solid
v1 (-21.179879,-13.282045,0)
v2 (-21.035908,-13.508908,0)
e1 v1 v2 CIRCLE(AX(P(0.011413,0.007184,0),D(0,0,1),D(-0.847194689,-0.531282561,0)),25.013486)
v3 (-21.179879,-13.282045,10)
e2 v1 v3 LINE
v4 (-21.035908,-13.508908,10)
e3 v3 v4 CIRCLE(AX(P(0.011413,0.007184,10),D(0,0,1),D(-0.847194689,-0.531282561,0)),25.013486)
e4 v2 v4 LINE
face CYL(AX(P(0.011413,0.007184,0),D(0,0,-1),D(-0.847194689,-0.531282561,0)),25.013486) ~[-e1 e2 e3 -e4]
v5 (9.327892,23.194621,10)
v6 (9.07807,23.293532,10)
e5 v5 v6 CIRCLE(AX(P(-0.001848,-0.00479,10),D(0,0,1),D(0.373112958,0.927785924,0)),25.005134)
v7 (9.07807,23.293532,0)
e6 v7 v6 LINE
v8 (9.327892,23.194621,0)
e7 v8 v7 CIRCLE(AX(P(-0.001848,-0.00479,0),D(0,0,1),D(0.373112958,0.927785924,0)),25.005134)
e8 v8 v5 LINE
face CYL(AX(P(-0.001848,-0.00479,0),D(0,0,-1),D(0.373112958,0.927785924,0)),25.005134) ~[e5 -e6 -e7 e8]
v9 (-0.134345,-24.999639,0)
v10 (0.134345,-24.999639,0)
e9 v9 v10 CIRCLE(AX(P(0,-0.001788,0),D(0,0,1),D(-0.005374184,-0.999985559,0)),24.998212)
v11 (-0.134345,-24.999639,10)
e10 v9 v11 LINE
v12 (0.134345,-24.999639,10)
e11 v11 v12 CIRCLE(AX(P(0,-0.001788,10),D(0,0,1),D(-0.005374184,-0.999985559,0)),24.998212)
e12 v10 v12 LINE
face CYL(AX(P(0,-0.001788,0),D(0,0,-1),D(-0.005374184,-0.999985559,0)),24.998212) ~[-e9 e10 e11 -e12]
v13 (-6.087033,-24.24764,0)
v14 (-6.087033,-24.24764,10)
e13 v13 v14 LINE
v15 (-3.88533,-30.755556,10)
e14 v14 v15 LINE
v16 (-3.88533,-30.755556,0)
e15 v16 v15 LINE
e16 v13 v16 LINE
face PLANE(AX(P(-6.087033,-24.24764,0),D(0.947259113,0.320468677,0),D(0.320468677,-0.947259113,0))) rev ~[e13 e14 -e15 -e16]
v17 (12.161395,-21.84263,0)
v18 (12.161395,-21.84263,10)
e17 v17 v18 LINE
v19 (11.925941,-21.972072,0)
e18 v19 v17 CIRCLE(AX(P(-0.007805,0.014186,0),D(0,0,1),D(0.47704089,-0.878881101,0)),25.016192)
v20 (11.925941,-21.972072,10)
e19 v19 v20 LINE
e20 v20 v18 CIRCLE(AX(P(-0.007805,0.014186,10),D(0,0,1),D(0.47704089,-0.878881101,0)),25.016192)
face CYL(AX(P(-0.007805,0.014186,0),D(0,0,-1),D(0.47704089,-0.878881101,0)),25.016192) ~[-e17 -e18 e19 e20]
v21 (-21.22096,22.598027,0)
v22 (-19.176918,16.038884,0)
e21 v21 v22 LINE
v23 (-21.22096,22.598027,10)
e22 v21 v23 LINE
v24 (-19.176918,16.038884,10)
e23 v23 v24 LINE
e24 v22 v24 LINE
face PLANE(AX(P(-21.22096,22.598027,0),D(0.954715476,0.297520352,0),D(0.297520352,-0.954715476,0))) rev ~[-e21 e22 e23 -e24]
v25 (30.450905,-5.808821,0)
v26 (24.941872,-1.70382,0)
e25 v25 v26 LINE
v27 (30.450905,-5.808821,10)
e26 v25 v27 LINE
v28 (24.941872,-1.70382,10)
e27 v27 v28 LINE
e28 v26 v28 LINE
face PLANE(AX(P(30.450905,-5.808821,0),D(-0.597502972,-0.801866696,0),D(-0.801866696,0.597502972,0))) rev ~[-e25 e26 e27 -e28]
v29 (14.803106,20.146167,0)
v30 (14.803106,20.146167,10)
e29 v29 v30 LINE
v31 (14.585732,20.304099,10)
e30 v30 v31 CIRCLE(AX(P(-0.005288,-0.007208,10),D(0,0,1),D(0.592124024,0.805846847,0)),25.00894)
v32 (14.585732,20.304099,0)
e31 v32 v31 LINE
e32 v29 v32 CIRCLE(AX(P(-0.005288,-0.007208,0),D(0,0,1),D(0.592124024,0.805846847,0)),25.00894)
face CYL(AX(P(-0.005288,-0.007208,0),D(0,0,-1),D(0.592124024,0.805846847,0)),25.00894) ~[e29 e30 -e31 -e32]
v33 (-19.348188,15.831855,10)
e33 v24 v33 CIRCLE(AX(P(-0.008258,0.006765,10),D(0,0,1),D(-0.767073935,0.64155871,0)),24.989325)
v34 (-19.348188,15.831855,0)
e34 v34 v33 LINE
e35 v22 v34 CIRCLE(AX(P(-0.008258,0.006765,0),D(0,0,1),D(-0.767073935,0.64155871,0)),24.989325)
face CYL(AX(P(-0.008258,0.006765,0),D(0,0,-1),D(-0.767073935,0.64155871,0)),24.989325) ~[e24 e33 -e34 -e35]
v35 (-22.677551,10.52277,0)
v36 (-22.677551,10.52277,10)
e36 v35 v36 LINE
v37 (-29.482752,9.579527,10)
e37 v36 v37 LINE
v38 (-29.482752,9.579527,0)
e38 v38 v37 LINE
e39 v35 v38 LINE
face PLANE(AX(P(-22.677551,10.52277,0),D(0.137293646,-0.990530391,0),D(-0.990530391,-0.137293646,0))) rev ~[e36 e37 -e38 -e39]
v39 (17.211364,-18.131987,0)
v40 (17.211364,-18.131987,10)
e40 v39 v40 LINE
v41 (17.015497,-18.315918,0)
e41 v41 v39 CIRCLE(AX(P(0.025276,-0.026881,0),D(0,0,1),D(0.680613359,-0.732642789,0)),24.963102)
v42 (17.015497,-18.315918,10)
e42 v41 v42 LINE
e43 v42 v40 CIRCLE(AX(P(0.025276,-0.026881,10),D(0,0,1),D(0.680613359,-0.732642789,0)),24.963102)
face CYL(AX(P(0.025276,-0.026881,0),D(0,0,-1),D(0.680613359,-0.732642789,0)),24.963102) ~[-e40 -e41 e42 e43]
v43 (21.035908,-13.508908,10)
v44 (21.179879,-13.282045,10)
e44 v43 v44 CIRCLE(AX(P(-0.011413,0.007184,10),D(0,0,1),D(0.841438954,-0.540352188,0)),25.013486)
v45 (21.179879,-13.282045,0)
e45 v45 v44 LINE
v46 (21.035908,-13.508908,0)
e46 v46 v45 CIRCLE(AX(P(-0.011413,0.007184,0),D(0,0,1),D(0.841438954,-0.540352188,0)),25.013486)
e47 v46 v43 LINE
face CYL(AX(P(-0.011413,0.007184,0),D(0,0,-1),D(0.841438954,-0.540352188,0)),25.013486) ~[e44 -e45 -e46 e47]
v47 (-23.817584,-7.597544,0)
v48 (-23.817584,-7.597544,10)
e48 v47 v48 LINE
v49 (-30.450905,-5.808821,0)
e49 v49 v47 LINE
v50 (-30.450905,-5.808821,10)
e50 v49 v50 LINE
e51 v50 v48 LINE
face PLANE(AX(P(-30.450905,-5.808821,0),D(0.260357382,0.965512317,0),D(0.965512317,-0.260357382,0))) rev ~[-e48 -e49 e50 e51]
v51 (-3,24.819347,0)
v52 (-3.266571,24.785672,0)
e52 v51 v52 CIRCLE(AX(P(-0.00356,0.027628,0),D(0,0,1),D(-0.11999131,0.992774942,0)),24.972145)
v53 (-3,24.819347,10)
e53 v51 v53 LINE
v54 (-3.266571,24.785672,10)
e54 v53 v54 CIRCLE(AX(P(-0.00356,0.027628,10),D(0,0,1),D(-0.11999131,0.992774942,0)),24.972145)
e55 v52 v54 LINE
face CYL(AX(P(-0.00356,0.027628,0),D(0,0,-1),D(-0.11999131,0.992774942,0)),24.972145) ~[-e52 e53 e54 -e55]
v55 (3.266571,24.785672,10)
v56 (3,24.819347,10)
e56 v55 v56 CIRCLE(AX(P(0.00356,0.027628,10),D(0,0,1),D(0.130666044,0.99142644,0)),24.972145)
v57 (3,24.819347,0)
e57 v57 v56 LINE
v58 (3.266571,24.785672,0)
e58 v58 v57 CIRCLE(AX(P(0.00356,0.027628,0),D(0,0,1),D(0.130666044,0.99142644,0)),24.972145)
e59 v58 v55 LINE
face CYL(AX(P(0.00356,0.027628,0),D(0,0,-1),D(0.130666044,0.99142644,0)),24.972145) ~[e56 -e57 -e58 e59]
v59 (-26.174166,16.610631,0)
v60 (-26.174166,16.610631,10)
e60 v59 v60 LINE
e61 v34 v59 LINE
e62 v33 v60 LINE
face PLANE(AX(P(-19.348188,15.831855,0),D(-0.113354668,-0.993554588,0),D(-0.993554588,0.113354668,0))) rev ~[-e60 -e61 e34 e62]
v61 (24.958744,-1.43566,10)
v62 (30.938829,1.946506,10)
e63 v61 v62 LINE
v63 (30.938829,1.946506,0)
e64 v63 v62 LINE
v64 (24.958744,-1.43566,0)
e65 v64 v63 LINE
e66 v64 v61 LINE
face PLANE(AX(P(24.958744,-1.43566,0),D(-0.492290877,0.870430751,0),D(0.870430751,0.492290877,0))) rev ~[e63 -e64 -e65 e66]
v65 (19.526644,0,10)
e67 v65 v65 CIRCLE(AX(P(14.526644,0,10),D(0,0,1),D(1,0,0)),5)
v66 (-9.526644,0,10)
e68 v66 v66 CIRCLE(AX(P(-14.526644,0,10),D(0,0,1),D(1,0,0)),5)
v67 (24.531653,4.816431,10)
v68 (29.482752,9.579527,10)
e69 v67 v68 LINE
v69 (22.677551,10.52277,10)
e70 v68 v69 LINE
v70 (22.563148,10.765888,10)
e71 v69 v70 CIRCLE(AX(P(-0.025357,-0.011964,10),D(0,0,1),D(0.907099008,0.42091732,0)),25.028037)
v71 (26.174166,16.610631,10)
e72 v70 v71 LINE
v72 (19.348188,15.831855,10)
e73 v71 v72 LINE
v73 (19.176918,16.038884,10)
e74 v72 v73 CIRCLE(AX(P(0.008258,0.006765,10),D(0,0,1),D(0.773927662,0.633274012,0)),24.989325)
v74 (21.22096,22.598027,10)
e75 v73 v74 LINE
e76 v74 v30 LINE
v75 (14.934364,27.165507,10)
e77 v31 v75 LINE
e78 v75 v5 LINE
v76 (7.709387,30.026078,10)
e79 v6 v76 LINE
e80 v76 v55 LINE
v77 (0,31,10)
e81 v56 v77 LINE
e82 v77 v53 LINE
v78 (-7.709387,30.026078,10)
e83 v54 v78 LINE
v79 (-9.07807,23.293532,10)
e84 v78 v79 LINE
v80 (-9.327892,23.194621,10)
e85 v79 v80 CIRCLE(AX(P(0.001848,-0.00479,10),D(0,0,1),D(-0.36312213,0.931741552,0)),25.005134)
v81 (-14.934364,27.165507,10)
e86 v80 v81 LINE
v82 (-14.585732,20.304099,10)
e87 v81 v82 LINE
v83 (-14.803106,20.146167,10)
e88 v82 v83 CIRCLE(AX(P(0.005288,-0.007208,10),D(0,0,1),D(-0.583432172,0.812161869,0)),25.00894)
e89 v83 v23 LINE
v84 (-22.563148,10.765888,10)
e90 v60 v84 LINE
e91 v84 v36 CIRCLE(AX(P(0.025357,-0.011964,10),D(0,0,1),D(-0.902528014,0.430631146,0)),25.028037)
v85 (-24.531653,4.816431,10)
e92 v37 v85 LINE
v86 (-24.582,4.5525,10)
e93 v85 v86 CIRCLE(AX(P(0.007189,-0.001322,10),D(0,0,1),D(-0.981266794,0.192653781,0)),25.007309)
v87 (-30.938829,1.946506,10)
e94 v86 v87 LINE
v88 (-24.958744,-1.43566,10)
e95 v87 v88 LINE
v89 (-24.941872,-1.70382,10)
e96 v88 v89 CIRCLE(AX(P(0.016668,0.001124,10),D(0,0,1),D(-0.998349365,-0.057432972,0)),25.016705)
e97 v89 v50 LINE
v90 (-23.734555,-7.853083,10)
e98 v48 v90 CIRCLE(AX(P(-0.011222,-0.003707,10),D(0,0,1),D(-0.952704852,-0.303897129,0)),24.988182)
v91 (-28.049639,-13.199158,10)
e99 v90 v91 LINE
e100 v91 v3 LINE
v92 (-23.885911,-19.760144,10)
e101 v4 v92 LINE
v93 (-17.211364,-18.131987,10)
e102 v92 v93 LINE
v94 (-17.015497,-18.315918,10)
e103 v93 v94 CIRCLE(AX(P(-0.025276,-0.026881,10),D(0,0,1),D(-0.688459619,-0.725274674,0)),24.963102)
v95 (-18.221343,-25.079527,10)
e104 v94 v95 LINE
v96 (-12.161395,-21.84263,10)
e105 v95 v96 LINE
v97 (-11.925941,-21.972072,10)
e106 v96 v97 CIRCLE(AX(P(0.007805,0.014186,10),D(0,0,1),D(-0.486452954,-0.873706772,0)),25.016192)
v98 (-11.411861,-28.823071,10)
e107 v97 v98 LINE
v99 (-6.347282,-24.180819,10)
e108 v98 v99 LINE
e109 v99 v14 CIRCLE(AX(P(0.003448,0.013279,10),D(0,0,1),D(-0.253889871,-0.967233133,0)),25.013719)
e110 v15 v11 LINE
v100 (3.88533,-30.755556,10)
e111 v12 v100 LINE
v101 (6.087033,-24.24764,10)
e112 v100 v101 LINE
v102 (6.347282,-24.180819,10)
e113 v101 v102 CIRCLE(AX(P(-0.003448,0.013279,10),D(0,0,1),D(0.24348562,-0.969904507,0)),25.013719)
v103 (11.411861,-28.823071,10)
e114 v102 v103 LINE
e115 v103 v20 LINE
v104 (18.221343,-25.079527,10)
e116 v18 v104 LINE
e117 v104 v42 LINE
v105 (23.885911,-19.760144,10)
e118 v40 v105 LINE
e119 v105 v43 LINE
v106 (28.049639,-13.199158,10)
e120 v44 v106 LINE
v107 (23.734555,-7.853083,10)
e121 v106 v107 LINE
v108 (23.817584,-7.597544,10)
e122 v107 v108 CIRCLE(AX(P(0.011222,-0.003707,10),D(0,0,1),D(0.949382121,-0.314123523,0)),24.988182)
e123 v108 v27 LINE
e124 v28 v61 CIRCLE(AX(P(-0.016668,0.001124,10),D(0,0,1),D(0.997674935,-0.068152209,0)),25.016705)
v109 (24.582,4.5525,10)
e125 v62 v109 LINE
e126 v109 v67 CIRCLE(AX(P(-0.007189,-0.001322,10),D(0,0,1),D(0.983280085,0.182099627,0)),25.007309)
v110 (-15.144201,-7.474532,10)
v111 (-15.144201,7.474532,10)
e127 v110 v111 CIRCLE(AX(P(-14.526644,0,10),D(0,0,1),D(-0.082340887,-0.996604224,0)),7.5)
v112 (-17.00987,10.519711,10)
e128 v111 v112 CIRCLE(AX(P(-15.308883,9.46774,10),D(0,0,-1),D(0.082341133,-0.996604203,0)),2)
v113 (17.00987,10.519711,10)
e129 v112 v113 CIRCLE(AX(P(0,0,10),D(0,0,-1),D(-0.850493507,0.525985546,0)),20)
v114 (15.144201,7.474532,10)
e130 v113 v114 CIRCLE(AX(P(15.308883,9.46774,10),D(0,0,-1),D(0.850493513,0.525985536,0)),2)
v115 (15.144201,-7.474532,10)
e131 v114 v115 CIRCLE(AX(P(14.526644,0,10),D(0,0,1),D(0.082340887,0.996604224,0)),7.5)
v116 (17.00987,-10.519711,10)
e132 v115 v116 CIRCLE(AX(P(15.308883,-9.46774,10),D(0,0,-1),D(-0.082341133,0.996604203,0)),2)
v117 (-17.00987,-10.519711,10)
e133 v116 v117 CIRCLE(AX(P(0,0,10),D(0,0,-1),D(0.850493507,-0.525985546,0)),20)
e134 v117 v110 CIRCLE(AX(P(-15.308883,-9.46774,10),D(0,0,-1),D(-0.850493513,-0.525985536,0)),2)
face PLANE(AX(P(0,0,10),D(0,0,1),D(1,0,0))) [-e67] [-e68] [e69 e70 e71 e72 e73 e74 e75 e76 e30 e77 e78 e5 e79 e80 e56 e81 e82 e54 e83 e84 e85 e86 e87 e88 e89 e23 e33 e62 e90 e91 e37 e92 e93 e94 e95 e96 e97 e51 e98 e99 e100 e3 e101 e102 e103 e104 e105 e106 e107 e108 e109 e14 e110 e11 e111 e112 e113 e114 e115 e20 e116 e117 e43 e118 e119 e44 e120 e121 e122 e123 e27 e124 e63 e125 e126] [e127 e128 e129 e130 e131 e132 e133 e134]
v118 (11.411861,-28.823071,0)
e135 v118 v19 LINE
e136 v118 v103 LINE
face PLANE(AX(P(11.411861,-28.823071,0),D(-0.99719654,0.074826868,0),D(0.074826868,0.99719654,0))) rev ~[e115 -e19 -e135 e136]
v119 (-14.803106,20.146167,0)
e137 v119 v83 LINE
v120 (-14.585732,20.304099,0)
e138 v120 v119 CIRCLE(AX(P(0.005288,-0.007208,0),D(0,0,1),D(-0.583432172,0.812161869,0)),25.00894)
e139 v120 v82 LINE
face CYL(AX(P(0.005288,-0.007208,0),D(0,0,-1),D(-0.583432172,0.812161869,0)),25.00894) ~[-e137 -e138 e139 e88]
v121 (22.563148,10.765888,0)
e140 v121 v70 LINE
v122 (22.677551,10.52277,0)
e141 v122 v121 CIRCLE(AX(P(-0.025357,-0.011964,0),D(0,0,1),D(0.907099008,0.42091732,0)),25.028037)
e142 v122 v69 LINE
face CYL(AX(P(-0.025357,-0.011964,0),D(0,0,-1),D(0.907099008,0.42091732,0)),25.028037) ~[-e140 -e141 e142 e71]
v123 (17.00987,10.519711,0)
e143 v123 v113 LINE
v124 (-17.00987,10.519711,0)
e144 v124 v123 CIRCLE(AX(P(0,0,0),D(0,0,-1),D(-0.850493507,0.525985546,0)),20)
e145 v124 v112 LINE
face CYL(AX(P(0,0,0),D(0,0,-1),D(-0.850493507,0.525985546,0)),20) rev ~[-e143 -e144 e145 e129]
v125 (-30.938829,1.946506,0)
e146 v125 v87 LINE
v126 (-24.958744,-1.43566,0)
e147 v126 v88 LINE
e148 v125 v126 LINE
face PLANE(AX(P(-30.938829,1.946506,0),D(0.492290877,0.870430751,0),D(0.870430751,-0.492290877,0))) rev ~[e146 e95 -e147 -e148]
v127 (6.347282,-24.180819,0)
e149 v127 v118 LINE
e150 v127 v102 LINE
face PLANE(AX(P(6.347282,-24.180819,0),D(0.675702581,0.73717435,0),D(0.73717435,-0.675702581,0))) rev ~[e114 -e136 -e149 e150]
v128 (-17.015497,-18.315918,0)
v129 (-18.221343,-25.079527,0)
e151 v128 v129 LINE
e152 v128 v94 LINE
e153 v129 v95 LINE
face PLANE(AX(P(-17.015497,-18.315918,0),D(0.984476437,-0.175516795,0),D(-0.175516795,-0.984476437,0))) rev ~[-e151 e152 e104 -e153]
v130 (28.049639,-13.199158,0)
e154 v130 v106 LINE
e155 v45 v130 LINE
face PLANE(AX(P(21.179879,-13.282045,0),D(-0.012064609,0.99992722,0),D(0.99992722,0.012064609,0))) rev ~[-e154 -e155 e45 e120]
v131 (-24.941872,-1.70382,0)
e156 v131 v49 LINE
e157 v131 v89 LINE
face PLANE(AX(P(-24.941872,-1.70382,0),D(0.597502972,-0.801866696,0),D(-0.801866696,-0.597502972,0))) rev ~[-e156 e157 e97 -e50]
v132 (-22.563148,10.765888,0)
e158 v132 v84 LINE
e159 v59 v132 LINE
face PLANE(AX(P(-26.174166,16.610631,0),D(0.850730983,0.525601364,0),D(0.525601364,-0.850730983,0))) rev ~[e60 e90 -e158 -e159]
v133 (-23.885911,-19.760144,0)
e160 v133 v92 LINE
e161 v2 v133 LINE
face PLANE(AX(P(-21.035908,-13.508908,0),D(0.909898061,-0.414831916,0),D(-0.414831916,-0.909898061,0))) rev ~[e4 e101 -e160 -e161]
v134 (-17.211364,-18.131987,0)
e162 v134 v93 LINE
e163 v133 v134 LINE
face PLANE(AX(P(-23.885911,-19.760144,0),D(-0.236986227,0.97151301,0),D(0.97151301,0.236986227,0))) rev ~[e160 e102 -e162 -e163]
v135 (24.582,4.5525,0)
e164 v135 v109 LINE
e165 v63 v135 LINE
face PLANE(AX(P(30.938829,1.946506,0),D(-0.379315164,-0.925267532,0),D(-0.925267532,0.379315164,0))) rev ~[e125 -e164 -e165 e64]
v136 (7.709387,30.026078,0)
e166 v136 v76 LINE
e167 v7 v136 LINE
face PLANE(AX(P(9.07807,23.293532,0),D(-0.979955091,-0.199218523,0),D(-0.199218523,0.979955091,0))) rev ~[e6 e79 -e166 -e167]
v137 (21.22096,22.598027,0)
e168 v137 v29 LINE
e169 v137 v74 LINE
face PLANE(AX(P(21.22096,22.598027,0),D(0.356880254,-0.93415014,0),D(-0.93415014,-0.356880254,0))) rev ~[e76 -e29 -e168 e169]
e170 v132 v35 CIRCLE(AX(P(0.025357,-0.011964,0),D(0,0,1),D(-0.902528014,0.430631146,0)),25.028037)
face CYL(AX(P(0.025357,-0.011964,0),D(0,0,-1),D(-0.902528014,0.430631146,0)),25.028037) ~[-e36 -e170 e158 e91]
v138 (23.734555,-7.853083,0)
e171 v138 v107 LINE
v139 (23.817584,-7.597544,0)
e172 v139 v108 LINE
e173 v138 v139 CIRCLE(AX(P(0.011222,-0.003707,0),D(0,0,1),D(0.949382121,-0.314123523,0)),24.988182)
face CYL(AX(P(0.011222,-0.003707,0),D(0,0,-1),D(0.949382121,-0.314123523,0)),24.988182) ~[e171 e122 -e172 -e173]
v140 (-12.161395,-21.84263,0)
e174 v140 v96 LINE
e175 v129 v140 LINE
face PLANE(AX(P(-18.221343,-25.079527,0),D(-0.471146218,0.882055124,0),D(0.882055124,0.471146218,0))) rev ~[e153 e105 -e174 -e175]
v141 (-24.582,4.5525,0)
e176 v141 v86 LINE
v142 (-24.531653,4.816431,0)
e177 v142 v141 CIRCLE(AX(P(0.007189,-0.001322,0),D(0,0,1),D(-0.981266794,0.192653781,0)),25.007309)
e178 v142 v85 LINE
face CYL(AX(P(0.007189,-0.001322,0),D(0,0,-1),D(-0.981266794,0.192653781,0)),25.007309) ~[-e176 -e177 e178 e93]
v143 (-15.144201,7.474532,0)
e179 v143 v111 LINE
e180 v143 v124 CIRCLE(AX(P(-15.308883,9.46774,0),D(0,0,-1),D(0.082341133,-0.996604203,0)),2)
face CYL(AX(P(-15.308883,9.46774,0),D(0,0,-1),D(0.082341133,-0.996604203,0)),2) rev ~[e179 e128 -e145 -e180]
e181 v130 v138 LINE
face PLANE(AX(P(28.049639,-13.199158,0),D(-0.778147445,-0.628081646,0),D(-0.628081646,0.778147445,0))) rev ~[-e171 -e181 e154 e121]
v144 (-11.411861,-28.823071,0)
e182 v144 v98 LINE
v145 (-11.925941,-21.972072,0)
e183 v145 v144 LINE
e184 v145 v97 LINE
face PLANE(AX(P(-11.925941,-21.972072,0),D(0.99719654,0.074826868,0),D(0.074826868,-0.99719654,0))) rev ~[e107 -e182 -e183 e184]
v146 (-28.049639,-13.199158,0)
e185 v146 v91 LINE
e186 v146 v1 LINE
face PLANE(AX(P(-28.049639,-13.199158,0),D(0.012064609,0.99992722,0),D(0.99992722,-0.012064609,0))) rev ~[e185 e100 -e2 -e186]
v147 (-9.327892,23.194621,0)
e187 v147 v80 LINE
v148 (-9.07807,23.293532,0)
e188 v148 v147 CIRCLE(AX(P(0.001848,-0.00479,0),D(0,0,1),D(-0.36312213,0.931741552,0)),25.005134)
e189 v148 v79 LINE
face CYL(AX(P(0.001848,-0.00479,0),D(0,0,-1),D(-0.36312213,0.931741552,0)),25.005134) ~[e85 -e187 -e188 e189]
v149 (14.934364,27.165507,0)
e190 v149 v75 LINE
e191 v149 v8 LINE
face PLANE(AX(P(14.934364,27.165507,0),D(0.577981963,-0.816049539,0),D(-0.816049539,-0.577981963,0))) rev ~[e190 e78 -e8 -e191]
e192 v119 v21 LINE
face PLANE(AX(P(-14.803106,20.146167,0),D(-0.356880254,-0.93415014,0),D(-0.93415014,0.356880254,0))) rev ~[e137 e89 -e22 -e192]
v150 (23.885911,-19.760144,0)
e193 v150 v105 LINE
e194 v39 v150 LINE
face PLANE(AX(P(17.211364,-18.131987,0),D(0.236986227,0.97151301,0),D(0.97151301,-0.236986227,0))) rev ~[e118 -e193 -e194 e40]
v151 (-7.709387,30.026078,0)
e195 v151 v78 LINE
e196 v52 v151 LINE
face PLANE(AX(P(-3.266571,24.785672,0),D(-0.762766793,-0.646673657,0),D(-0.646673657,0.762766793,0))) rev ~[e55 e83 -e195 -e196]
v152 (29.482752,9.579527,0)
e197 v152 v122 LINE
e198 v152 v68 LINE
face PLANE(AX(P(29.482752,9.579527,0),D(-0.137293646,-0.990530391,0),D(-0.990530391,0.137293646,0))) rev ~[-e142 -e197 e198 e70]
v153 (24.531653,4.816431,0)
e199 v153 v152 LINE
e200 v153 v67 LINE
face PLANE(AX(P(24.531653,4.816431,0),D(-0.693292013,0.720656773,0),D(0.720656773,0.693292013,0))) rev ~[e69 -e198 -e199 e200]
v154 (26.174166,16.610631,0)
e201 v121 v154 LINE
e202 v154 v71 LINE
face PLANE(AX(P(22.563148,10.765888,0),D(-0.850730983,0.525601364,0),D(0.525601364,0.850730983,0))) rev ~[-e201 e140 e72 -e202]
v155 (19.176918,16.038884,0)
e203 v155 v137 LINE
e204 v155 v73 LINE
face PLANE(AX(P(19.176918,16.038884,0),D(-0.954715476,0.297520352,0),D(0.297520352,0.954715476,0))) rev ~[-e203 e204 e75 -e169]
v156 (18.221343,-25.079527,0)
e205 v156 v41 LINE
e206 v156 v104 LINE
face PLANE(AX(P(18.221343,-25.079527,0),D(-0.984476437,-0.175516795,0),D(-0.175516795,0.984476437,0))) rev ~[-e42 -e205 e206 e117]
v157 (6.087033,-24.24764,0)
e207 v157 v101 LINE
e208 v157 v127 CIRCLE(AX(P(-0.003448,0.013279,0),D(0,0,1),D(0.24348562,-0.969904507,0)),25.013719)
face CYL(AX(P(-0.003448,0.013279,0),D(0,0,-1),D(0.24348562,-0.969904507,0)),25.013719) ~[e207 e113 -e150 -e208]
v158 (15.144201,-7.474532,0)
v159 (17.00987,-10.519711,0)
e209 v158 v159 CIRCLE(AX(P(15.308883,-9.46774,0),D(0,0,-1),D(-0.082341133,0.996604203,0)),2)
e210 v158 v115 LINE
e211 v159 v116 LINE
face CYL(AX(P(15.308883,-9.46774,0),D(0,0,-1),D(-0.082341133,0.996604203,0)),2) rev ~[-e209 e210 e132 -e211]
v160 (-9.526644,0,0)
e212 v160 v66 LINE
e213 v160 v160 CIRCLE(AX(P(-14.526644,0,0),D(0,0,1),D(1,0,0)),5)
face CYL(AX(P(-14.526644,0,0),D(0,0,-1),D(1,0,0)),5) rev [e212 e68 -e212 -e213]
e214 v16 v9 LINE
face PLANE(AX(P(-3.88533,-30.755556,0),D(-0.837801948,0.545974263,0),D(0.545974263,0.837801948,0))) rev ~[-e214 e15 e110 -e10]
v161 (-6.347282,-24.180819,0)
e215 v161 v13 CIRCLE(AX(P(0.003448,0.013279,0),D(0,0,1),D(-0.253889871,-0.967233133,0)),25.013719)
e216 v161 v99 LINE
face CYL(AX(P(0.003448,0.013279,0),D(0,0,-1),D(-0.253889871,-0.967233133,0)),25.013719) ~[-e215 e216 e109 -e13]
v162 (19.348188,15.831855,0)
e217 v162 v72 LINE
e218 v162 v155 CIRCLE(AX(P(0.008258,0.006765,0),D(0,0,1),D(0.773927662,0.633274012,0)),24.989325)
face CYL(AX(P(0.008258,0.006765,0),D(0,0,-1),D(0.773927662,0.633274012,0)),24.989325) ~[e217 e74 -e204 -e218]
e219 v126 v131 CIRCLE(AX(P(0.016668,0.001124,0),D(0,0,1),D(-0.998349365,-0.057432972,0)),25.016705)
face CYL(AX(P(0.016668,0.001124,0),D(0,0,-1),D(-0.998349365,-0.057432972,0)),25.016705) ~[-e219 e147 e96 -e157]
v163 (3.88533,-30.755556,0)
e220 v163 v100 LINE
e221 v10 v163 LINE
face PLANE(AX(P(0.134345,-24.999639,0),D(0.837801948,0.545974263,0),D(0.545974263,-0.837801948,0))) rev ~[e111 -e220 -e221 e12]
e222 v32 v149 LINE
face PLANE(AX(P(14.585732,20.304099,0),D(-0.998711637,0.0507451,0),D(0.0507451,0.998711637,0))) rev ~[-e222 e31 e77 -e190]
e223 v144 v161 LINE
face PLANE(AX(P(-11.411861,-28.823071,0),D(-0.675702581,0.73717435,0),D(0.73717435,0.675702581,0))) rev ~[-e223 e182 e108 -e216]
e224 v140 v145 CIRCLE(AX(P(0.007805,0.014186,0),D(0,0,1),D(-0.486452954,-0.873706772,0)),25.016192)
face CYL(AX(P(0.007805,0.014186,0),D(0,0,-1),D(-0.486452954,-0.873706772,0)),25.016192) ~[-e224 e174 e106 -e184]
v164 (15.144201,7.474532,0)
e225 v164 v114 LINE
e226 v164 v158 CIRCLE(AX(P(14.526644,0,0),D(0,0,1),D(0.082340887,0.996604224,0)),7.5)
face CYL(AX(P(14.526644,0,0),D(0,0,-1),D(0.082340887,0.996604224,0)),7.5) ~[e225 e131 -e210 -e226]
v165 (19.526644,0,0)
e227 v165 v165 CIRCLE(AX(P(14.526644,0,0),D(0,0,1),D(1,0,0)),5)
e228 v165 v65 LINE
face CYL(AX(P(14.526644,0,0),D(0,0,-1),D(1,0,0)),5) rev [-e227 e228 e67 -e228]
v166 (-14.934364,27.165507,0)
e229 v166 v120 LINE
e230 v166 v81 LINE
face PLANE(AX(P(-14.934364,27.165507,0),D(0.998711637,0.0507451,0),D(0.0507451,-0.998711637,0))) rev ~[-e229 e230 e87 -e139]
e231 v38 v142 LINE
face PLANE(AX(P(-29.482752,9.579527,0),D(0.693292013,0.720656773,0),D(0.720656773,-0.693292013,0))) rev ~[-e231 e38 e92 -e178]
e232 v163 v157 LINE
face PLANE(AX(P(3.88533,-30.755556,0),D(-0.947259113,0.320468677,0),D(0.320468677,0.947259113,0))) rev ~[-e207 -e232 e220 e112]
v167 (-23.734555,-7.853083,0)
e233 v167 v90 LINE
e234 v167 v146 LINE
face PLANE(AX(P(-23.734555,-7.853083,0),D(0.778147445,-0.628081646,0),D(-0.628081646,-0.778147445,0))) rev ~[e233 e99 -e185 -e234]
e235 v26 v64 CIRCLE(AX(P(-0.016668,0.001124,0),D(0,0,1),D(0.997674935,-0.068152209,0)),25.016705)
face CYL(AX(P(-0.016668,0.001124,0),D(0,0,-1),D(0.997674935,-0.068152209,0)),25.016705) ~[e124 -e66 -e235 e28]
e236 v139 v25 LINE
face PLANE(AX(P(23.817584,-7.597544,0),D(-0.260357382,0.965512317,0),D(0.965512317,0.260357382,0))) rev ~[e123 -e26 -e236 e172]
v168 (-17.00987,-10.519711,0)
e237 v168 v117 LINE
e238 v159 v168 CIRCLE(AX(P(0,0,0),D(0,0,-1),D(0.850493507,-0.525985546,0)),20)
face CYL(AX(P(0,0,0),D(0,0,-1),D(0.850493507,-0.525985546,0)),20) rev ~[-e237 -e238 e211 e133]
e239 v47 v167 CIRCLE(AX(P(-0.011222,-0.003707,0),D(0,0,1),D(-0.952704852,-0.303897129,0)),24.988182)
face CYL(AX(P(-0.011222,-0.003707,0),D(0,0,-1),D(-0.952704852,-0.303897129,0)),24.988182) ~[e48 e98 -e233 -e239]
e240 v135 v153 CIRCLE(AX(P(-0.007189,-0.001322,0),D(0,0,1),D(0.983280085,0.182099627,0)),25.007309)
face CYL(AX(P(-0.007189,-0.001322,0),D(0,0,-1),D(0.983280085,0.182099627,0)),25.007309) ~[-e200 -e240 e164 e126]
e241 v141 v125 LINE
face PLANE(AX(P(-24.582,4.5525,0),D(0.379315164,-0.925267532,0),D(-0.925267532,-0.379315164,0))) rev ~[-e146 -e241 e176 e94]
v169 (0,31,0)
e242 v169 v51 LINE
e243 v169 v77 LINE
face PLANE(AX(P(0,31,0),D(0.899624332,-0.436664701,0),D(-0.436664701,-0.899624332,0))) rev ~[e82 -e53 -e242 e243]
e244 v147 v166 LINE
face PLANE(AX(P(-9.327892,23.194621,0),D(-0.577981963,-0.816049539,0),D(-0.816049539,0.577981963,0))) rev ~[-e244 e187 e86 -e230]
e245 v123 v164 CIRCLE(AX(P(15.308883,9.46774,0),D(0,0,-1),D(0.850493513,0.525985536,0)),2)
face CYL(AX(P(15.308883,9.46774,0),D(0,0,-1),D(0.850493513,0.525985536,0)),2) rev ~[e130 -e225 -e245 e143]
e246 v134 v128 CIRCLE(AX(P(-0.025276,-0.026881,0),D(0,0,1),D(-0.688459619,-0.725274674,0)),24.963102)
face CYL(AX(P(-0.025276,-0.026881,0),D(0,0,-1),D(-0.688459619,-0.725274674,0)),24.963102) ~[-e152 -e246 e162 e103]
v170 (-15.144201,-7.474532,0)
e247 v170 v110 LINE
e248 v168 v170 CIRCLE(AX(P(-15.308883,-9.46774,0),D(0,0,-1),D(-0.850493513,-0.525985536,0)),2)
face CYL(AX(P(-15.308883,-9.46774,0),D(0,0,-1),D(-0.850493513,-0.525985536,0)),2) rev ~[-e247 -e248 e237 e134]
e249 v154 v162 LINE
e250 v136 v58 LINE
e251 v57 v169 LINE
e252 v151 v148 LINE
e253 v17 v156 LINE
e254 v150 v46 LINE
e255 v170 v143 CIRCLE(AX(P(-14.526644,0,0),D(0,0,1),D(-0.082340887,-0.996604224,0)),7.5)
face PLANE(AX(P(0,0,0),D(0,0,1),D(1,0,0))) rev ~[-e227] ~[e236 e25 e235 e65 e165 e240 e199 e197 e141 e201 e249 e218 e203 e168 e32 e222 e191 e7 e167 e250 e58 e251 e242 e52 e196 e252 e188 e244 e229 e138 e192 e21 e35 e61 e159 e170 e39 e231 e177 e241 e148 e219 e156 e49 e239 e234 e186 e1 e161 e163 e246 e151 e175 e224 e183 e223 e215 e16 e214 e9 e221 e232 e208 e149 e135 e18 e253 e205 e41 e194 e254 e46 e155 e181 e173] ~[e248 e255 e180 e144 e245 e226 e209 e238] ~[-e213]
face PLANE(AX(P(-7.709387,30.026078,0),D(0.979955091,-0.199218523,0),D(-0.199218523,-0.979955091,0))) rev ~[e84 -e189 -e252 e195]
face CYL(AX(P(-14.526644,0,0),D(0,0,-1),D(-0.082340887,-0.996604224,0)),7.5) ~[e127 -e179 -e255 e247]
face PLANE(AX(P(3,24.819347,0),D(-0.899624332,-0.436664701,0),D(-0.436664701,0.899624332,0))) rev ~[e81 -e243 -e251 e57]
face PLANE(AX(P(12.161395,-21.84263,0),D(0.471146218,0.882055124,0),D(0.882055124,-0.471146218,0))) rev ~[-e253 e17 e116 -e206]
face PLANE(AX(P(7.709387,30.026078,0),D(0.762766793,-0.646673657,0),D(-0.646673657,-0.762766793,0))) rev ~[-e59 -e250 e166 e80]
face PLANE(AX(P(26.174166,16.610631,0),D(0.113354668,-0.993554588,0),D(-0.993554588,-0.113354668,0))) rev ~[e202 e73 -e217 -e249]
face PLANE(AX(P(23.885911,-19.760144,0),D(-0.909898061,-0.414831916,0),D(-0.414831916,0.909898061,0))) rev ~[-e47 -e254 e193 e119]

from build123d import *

# Parameters (mm, degrees)
F0_R     = 5
F1_DEPTH = 10


with BuildPart() as f1:
    # F0 (on Top) → F1 (new body)
    with BuildSketch(Plane.XY):
        with BuildLine():
            Line((-14.934364, 27.165507), (-14.585732, 20.304099))
            ThreePointArc((-14.585732, 20.304099), (-14.694631, 20.225425), (-14.803106, 20.146167))
            Line((-14.803106, 20.146167), (-21.22096, 22.598027))
            Line((-21.22096, 22.598027), (-19.176918, 16.038884))
            ThreePointArc((-19.176918, 16.038884), (-19.262831, 15.9356), (-19.348188, 15.831855))
            Line((-19.348188, 15.831855), (-26.174166, 16.610631))
            Line((-26.174166, 16.610631), (-22.563148, 10.765888))
            ThreePointArc((-22.563148, 10.765888), (-22.620676, 10.644482), (-22.677551, 10.52277))
            Line((-22.677551, 10.52277), (-29.482752, 9.579527))
            Line((-29.482752, 9.579527), (-24.531653, 4.816431))
            ThreePointArc((-24.531653, 4.816431), (-24.557181, 4.684533), (-24.582, 4.5525))
            Line((-24.582, 4.5525), (-30.938829, 1.946506))
            Line((-30.938829, 1.946506), (-24.958744, -1.43566))
            ThreePointArc((-24.958744, -1.43566), (-24.950668, -1.569763), (-24.941872, -1.70382))
            Line((-24.941872, -1.70382), (-30.450905, -5.808821))
            Line((-30.450905, -5.808821), (-23.817584, -7.597544))
            ThreePointArc((-23.817584, -7.597544), (-23.776413, -7.725425), (-23.734555, -7.853083))
            Line((-23.734555, -7.853083), (-28.049639, -13.199158))
            Line((-28.049639, -13.199158), (-21.179879, -13.282045))
            ThreePointArc((-21.179879, -13.282045), (-21.108198, -13.39567), (-21.035908, -13.508908))
            Line((-21.035908, -13.508908), (-23.885911, -19.760144))
            Line((-23.885911, -19.760144), (-17.211364, -18.131987))
            ThreePointArc((-17.211364, -18.131987), (-17.113678, -18.224216), (-17.015497, -18.315918))
            Line((-17.015497, -18.315918), (-18.221343, -25.079527))
            Line((-18.221343, -25.079527), (-12.161395, -21.84263))
            ThreePointArc((-12.161395, -21.84263), (-12.043842, -21.907667), (-11.925941, -21.972072))
            Line((-11.925941, -21.972072), (-11.411861, -28.823071))
            Line((-11.411861, -28.823071), (-6.347282, -24.180819))
            ThreePointArc((-6.347282, -24.180819), (-6.217247, -24.214579), (-6.087033, -24.24764))
            Line((-6.087033, -24.24764), (-3.88533, -30.755556))
            Line((-3.88533, -30.755556), (-0.134345, -24.999639))
            ThreePointArc((-0.134345, -24.999639), (0, -25), (0.134345, -24.999639))
            Line((0.134345, -24.999639), (3.88533, -30.755556))
            Line((3.88533, -30.755556), (6.087033, -24.24764))
            ThreePointArc((6.087033, -24.24764), (6.217247, -24.214579), (6.347282, -24.180819))
            Line((6.347282, -24.180819), (11.411861, -28.823071))
            Line((11.411861, -28.823071), (11.925941, -21.972072))
            ThreePointArc((11.925941, -21.972072), (12.043842, -21.907667), (12.161395, -21.84263))
            Line((12.161395, -21.84263), (18.221343, -25.079527))
            Line((18.221343, -25.079527), (17.015497, -18.315918))
            ThreePointArc((17.015497, -18.315918), (17.113678, -18.224216), (17.211364, -18.131987))
            Line((17.211364, -18.131987), (23.885911, -19.760144))
            Line((23.885911, -19.760144), (21.035908, -13.508908))
            ThreePointArc((21.035908, -13.508908), (21.108198, -13.39567), (21.179879, -13.282045))
            Line((21.179879, -13.282045), (28.049639, -13.199158))
            Line((28.049639, -13.199158), (23.734555, -7.853083))
            ThreePointArc((23.734555, -7.853083), (23.776413, -7.725425), (23.817584, -7.597544))
            Line((23.817584, -7.597544), (30.450905, -5.808821))
            Line((30.450905, -5.808821), (24.941872, -1.70382))
            ThreePointArc((24.941872, -1.70382), (24.950668, -1.569763), (24.958744, -1.43566))
            Line((24.958744, -1.43566), (30.938829, 1.946506))
            Line((30.938829, 1.946506), (24.582, 4.5525))
            ThreePointArc((24.582, 4.5525), (24.557181, 4.684533), (24.531653, 4.816431))
            Line((24.531653, 4.816431), (29.482752, 9.579527))
            Line((29.482752, 9.579527), (22.677551, 10.52277))
            ThreePointArc((22.677551, 10.52277), (22.620676, 10.644482), (22.563148, 10.765888))
            Line((22.563148, 10.765888), (26.174166, 16.610631))
            Line((26.174166, 16.610631), (19.348188, 15.831855))
            ThreePointArc((19.348188, 15.831855), (19.262831, 15.9356), (19.176918, 16.038884))
            Line((19.176918, 16.038884), (21.22096, 22.598027))
            Line((21.22096, 22.598027), (14.803106, 20.146167))
            ThreePointArc((14.803106, 20.146167), (14.694631, 20.225425), (14.585732, 20.304099))
            Line((14.585732, 20.304099), (14.934364, 27.165507))
            Line((14.934364, 27.165507), (9.327892, 23.194621))
            ThreePointArc((9.327892, 23.194621), (9.203114, 23.244412), (9.07807, 23.293532))
            Line((9.07807, 23.293532), (7.709387, 30.026078))
            Line((7.709387, 30.026078), (3.266571, 24.785672))
            ThreePointArc((3.266571, 24.785672), (3.133331, 24.802868), (3, 24.819347))
            Line((3, 24.819347), (0, 31))
            Line((0, 31), (-3, 24.819347))
            ThreePointArc((-3, 24.819347), (-3.133331, 24.802868), (-3.266571, 24.785672))
            Line((-3.266571, 24.785672), (-7.709387, 30.026078))
            Line((-7.709387, 30.026078), (-9.07807, 23.293532))
            ThreePointArc((-9.07807, 23.293532), (-9.203114, 23.244412), (-9.327892, 23.194621))
            Line((-9.327892, 23.194621), (-14.934364, 27.165507))
        make_face()
        with Locations((-14.526644, 0)):
            Circle(F0_R, mode=Mode.SUBTRACT)
        with BuildLine():
            ThreePointArc((17.00987, -10.519711), (0, -20), (-17.00987, -10.519711))
            ThreePointArc((-17.00987, -10.519711), (-17.014268, -8.422914), (-15.144201, -7.474532))
            ThreePointArc((-15.144201, -7.474532), (-7.026644, 0), (-15.144201, 7.474532))
            ThreePointArc((-15.144201, 7.474532), (-17.014268, 8.422914), (-17.00987, 10.519711))
            ThreePointArc((-17.00987, 10.519711), (0, 20), (17.00987, 10.519711))
            ThreePointArc((17.00987, 10.519711), (17.014268, 8.422914), (15.144201, 7.474532))
            ThreePointArc((15.144201, 7.474532), (7.026644, 0), (15.144201, -7.474532))
            ThreePointArc((15.144201, -7.474532), (17.014268, -8.422914), (17.00987, -10.519711))
        make_face(mode=Mode.SUBTRACT)
        with Locations((14.526644, 0)):
            Circle(F0_R, mode=Mode.SUBTRACT)
    extrude(amount=F1_DEPTH)


solid = f1.part
